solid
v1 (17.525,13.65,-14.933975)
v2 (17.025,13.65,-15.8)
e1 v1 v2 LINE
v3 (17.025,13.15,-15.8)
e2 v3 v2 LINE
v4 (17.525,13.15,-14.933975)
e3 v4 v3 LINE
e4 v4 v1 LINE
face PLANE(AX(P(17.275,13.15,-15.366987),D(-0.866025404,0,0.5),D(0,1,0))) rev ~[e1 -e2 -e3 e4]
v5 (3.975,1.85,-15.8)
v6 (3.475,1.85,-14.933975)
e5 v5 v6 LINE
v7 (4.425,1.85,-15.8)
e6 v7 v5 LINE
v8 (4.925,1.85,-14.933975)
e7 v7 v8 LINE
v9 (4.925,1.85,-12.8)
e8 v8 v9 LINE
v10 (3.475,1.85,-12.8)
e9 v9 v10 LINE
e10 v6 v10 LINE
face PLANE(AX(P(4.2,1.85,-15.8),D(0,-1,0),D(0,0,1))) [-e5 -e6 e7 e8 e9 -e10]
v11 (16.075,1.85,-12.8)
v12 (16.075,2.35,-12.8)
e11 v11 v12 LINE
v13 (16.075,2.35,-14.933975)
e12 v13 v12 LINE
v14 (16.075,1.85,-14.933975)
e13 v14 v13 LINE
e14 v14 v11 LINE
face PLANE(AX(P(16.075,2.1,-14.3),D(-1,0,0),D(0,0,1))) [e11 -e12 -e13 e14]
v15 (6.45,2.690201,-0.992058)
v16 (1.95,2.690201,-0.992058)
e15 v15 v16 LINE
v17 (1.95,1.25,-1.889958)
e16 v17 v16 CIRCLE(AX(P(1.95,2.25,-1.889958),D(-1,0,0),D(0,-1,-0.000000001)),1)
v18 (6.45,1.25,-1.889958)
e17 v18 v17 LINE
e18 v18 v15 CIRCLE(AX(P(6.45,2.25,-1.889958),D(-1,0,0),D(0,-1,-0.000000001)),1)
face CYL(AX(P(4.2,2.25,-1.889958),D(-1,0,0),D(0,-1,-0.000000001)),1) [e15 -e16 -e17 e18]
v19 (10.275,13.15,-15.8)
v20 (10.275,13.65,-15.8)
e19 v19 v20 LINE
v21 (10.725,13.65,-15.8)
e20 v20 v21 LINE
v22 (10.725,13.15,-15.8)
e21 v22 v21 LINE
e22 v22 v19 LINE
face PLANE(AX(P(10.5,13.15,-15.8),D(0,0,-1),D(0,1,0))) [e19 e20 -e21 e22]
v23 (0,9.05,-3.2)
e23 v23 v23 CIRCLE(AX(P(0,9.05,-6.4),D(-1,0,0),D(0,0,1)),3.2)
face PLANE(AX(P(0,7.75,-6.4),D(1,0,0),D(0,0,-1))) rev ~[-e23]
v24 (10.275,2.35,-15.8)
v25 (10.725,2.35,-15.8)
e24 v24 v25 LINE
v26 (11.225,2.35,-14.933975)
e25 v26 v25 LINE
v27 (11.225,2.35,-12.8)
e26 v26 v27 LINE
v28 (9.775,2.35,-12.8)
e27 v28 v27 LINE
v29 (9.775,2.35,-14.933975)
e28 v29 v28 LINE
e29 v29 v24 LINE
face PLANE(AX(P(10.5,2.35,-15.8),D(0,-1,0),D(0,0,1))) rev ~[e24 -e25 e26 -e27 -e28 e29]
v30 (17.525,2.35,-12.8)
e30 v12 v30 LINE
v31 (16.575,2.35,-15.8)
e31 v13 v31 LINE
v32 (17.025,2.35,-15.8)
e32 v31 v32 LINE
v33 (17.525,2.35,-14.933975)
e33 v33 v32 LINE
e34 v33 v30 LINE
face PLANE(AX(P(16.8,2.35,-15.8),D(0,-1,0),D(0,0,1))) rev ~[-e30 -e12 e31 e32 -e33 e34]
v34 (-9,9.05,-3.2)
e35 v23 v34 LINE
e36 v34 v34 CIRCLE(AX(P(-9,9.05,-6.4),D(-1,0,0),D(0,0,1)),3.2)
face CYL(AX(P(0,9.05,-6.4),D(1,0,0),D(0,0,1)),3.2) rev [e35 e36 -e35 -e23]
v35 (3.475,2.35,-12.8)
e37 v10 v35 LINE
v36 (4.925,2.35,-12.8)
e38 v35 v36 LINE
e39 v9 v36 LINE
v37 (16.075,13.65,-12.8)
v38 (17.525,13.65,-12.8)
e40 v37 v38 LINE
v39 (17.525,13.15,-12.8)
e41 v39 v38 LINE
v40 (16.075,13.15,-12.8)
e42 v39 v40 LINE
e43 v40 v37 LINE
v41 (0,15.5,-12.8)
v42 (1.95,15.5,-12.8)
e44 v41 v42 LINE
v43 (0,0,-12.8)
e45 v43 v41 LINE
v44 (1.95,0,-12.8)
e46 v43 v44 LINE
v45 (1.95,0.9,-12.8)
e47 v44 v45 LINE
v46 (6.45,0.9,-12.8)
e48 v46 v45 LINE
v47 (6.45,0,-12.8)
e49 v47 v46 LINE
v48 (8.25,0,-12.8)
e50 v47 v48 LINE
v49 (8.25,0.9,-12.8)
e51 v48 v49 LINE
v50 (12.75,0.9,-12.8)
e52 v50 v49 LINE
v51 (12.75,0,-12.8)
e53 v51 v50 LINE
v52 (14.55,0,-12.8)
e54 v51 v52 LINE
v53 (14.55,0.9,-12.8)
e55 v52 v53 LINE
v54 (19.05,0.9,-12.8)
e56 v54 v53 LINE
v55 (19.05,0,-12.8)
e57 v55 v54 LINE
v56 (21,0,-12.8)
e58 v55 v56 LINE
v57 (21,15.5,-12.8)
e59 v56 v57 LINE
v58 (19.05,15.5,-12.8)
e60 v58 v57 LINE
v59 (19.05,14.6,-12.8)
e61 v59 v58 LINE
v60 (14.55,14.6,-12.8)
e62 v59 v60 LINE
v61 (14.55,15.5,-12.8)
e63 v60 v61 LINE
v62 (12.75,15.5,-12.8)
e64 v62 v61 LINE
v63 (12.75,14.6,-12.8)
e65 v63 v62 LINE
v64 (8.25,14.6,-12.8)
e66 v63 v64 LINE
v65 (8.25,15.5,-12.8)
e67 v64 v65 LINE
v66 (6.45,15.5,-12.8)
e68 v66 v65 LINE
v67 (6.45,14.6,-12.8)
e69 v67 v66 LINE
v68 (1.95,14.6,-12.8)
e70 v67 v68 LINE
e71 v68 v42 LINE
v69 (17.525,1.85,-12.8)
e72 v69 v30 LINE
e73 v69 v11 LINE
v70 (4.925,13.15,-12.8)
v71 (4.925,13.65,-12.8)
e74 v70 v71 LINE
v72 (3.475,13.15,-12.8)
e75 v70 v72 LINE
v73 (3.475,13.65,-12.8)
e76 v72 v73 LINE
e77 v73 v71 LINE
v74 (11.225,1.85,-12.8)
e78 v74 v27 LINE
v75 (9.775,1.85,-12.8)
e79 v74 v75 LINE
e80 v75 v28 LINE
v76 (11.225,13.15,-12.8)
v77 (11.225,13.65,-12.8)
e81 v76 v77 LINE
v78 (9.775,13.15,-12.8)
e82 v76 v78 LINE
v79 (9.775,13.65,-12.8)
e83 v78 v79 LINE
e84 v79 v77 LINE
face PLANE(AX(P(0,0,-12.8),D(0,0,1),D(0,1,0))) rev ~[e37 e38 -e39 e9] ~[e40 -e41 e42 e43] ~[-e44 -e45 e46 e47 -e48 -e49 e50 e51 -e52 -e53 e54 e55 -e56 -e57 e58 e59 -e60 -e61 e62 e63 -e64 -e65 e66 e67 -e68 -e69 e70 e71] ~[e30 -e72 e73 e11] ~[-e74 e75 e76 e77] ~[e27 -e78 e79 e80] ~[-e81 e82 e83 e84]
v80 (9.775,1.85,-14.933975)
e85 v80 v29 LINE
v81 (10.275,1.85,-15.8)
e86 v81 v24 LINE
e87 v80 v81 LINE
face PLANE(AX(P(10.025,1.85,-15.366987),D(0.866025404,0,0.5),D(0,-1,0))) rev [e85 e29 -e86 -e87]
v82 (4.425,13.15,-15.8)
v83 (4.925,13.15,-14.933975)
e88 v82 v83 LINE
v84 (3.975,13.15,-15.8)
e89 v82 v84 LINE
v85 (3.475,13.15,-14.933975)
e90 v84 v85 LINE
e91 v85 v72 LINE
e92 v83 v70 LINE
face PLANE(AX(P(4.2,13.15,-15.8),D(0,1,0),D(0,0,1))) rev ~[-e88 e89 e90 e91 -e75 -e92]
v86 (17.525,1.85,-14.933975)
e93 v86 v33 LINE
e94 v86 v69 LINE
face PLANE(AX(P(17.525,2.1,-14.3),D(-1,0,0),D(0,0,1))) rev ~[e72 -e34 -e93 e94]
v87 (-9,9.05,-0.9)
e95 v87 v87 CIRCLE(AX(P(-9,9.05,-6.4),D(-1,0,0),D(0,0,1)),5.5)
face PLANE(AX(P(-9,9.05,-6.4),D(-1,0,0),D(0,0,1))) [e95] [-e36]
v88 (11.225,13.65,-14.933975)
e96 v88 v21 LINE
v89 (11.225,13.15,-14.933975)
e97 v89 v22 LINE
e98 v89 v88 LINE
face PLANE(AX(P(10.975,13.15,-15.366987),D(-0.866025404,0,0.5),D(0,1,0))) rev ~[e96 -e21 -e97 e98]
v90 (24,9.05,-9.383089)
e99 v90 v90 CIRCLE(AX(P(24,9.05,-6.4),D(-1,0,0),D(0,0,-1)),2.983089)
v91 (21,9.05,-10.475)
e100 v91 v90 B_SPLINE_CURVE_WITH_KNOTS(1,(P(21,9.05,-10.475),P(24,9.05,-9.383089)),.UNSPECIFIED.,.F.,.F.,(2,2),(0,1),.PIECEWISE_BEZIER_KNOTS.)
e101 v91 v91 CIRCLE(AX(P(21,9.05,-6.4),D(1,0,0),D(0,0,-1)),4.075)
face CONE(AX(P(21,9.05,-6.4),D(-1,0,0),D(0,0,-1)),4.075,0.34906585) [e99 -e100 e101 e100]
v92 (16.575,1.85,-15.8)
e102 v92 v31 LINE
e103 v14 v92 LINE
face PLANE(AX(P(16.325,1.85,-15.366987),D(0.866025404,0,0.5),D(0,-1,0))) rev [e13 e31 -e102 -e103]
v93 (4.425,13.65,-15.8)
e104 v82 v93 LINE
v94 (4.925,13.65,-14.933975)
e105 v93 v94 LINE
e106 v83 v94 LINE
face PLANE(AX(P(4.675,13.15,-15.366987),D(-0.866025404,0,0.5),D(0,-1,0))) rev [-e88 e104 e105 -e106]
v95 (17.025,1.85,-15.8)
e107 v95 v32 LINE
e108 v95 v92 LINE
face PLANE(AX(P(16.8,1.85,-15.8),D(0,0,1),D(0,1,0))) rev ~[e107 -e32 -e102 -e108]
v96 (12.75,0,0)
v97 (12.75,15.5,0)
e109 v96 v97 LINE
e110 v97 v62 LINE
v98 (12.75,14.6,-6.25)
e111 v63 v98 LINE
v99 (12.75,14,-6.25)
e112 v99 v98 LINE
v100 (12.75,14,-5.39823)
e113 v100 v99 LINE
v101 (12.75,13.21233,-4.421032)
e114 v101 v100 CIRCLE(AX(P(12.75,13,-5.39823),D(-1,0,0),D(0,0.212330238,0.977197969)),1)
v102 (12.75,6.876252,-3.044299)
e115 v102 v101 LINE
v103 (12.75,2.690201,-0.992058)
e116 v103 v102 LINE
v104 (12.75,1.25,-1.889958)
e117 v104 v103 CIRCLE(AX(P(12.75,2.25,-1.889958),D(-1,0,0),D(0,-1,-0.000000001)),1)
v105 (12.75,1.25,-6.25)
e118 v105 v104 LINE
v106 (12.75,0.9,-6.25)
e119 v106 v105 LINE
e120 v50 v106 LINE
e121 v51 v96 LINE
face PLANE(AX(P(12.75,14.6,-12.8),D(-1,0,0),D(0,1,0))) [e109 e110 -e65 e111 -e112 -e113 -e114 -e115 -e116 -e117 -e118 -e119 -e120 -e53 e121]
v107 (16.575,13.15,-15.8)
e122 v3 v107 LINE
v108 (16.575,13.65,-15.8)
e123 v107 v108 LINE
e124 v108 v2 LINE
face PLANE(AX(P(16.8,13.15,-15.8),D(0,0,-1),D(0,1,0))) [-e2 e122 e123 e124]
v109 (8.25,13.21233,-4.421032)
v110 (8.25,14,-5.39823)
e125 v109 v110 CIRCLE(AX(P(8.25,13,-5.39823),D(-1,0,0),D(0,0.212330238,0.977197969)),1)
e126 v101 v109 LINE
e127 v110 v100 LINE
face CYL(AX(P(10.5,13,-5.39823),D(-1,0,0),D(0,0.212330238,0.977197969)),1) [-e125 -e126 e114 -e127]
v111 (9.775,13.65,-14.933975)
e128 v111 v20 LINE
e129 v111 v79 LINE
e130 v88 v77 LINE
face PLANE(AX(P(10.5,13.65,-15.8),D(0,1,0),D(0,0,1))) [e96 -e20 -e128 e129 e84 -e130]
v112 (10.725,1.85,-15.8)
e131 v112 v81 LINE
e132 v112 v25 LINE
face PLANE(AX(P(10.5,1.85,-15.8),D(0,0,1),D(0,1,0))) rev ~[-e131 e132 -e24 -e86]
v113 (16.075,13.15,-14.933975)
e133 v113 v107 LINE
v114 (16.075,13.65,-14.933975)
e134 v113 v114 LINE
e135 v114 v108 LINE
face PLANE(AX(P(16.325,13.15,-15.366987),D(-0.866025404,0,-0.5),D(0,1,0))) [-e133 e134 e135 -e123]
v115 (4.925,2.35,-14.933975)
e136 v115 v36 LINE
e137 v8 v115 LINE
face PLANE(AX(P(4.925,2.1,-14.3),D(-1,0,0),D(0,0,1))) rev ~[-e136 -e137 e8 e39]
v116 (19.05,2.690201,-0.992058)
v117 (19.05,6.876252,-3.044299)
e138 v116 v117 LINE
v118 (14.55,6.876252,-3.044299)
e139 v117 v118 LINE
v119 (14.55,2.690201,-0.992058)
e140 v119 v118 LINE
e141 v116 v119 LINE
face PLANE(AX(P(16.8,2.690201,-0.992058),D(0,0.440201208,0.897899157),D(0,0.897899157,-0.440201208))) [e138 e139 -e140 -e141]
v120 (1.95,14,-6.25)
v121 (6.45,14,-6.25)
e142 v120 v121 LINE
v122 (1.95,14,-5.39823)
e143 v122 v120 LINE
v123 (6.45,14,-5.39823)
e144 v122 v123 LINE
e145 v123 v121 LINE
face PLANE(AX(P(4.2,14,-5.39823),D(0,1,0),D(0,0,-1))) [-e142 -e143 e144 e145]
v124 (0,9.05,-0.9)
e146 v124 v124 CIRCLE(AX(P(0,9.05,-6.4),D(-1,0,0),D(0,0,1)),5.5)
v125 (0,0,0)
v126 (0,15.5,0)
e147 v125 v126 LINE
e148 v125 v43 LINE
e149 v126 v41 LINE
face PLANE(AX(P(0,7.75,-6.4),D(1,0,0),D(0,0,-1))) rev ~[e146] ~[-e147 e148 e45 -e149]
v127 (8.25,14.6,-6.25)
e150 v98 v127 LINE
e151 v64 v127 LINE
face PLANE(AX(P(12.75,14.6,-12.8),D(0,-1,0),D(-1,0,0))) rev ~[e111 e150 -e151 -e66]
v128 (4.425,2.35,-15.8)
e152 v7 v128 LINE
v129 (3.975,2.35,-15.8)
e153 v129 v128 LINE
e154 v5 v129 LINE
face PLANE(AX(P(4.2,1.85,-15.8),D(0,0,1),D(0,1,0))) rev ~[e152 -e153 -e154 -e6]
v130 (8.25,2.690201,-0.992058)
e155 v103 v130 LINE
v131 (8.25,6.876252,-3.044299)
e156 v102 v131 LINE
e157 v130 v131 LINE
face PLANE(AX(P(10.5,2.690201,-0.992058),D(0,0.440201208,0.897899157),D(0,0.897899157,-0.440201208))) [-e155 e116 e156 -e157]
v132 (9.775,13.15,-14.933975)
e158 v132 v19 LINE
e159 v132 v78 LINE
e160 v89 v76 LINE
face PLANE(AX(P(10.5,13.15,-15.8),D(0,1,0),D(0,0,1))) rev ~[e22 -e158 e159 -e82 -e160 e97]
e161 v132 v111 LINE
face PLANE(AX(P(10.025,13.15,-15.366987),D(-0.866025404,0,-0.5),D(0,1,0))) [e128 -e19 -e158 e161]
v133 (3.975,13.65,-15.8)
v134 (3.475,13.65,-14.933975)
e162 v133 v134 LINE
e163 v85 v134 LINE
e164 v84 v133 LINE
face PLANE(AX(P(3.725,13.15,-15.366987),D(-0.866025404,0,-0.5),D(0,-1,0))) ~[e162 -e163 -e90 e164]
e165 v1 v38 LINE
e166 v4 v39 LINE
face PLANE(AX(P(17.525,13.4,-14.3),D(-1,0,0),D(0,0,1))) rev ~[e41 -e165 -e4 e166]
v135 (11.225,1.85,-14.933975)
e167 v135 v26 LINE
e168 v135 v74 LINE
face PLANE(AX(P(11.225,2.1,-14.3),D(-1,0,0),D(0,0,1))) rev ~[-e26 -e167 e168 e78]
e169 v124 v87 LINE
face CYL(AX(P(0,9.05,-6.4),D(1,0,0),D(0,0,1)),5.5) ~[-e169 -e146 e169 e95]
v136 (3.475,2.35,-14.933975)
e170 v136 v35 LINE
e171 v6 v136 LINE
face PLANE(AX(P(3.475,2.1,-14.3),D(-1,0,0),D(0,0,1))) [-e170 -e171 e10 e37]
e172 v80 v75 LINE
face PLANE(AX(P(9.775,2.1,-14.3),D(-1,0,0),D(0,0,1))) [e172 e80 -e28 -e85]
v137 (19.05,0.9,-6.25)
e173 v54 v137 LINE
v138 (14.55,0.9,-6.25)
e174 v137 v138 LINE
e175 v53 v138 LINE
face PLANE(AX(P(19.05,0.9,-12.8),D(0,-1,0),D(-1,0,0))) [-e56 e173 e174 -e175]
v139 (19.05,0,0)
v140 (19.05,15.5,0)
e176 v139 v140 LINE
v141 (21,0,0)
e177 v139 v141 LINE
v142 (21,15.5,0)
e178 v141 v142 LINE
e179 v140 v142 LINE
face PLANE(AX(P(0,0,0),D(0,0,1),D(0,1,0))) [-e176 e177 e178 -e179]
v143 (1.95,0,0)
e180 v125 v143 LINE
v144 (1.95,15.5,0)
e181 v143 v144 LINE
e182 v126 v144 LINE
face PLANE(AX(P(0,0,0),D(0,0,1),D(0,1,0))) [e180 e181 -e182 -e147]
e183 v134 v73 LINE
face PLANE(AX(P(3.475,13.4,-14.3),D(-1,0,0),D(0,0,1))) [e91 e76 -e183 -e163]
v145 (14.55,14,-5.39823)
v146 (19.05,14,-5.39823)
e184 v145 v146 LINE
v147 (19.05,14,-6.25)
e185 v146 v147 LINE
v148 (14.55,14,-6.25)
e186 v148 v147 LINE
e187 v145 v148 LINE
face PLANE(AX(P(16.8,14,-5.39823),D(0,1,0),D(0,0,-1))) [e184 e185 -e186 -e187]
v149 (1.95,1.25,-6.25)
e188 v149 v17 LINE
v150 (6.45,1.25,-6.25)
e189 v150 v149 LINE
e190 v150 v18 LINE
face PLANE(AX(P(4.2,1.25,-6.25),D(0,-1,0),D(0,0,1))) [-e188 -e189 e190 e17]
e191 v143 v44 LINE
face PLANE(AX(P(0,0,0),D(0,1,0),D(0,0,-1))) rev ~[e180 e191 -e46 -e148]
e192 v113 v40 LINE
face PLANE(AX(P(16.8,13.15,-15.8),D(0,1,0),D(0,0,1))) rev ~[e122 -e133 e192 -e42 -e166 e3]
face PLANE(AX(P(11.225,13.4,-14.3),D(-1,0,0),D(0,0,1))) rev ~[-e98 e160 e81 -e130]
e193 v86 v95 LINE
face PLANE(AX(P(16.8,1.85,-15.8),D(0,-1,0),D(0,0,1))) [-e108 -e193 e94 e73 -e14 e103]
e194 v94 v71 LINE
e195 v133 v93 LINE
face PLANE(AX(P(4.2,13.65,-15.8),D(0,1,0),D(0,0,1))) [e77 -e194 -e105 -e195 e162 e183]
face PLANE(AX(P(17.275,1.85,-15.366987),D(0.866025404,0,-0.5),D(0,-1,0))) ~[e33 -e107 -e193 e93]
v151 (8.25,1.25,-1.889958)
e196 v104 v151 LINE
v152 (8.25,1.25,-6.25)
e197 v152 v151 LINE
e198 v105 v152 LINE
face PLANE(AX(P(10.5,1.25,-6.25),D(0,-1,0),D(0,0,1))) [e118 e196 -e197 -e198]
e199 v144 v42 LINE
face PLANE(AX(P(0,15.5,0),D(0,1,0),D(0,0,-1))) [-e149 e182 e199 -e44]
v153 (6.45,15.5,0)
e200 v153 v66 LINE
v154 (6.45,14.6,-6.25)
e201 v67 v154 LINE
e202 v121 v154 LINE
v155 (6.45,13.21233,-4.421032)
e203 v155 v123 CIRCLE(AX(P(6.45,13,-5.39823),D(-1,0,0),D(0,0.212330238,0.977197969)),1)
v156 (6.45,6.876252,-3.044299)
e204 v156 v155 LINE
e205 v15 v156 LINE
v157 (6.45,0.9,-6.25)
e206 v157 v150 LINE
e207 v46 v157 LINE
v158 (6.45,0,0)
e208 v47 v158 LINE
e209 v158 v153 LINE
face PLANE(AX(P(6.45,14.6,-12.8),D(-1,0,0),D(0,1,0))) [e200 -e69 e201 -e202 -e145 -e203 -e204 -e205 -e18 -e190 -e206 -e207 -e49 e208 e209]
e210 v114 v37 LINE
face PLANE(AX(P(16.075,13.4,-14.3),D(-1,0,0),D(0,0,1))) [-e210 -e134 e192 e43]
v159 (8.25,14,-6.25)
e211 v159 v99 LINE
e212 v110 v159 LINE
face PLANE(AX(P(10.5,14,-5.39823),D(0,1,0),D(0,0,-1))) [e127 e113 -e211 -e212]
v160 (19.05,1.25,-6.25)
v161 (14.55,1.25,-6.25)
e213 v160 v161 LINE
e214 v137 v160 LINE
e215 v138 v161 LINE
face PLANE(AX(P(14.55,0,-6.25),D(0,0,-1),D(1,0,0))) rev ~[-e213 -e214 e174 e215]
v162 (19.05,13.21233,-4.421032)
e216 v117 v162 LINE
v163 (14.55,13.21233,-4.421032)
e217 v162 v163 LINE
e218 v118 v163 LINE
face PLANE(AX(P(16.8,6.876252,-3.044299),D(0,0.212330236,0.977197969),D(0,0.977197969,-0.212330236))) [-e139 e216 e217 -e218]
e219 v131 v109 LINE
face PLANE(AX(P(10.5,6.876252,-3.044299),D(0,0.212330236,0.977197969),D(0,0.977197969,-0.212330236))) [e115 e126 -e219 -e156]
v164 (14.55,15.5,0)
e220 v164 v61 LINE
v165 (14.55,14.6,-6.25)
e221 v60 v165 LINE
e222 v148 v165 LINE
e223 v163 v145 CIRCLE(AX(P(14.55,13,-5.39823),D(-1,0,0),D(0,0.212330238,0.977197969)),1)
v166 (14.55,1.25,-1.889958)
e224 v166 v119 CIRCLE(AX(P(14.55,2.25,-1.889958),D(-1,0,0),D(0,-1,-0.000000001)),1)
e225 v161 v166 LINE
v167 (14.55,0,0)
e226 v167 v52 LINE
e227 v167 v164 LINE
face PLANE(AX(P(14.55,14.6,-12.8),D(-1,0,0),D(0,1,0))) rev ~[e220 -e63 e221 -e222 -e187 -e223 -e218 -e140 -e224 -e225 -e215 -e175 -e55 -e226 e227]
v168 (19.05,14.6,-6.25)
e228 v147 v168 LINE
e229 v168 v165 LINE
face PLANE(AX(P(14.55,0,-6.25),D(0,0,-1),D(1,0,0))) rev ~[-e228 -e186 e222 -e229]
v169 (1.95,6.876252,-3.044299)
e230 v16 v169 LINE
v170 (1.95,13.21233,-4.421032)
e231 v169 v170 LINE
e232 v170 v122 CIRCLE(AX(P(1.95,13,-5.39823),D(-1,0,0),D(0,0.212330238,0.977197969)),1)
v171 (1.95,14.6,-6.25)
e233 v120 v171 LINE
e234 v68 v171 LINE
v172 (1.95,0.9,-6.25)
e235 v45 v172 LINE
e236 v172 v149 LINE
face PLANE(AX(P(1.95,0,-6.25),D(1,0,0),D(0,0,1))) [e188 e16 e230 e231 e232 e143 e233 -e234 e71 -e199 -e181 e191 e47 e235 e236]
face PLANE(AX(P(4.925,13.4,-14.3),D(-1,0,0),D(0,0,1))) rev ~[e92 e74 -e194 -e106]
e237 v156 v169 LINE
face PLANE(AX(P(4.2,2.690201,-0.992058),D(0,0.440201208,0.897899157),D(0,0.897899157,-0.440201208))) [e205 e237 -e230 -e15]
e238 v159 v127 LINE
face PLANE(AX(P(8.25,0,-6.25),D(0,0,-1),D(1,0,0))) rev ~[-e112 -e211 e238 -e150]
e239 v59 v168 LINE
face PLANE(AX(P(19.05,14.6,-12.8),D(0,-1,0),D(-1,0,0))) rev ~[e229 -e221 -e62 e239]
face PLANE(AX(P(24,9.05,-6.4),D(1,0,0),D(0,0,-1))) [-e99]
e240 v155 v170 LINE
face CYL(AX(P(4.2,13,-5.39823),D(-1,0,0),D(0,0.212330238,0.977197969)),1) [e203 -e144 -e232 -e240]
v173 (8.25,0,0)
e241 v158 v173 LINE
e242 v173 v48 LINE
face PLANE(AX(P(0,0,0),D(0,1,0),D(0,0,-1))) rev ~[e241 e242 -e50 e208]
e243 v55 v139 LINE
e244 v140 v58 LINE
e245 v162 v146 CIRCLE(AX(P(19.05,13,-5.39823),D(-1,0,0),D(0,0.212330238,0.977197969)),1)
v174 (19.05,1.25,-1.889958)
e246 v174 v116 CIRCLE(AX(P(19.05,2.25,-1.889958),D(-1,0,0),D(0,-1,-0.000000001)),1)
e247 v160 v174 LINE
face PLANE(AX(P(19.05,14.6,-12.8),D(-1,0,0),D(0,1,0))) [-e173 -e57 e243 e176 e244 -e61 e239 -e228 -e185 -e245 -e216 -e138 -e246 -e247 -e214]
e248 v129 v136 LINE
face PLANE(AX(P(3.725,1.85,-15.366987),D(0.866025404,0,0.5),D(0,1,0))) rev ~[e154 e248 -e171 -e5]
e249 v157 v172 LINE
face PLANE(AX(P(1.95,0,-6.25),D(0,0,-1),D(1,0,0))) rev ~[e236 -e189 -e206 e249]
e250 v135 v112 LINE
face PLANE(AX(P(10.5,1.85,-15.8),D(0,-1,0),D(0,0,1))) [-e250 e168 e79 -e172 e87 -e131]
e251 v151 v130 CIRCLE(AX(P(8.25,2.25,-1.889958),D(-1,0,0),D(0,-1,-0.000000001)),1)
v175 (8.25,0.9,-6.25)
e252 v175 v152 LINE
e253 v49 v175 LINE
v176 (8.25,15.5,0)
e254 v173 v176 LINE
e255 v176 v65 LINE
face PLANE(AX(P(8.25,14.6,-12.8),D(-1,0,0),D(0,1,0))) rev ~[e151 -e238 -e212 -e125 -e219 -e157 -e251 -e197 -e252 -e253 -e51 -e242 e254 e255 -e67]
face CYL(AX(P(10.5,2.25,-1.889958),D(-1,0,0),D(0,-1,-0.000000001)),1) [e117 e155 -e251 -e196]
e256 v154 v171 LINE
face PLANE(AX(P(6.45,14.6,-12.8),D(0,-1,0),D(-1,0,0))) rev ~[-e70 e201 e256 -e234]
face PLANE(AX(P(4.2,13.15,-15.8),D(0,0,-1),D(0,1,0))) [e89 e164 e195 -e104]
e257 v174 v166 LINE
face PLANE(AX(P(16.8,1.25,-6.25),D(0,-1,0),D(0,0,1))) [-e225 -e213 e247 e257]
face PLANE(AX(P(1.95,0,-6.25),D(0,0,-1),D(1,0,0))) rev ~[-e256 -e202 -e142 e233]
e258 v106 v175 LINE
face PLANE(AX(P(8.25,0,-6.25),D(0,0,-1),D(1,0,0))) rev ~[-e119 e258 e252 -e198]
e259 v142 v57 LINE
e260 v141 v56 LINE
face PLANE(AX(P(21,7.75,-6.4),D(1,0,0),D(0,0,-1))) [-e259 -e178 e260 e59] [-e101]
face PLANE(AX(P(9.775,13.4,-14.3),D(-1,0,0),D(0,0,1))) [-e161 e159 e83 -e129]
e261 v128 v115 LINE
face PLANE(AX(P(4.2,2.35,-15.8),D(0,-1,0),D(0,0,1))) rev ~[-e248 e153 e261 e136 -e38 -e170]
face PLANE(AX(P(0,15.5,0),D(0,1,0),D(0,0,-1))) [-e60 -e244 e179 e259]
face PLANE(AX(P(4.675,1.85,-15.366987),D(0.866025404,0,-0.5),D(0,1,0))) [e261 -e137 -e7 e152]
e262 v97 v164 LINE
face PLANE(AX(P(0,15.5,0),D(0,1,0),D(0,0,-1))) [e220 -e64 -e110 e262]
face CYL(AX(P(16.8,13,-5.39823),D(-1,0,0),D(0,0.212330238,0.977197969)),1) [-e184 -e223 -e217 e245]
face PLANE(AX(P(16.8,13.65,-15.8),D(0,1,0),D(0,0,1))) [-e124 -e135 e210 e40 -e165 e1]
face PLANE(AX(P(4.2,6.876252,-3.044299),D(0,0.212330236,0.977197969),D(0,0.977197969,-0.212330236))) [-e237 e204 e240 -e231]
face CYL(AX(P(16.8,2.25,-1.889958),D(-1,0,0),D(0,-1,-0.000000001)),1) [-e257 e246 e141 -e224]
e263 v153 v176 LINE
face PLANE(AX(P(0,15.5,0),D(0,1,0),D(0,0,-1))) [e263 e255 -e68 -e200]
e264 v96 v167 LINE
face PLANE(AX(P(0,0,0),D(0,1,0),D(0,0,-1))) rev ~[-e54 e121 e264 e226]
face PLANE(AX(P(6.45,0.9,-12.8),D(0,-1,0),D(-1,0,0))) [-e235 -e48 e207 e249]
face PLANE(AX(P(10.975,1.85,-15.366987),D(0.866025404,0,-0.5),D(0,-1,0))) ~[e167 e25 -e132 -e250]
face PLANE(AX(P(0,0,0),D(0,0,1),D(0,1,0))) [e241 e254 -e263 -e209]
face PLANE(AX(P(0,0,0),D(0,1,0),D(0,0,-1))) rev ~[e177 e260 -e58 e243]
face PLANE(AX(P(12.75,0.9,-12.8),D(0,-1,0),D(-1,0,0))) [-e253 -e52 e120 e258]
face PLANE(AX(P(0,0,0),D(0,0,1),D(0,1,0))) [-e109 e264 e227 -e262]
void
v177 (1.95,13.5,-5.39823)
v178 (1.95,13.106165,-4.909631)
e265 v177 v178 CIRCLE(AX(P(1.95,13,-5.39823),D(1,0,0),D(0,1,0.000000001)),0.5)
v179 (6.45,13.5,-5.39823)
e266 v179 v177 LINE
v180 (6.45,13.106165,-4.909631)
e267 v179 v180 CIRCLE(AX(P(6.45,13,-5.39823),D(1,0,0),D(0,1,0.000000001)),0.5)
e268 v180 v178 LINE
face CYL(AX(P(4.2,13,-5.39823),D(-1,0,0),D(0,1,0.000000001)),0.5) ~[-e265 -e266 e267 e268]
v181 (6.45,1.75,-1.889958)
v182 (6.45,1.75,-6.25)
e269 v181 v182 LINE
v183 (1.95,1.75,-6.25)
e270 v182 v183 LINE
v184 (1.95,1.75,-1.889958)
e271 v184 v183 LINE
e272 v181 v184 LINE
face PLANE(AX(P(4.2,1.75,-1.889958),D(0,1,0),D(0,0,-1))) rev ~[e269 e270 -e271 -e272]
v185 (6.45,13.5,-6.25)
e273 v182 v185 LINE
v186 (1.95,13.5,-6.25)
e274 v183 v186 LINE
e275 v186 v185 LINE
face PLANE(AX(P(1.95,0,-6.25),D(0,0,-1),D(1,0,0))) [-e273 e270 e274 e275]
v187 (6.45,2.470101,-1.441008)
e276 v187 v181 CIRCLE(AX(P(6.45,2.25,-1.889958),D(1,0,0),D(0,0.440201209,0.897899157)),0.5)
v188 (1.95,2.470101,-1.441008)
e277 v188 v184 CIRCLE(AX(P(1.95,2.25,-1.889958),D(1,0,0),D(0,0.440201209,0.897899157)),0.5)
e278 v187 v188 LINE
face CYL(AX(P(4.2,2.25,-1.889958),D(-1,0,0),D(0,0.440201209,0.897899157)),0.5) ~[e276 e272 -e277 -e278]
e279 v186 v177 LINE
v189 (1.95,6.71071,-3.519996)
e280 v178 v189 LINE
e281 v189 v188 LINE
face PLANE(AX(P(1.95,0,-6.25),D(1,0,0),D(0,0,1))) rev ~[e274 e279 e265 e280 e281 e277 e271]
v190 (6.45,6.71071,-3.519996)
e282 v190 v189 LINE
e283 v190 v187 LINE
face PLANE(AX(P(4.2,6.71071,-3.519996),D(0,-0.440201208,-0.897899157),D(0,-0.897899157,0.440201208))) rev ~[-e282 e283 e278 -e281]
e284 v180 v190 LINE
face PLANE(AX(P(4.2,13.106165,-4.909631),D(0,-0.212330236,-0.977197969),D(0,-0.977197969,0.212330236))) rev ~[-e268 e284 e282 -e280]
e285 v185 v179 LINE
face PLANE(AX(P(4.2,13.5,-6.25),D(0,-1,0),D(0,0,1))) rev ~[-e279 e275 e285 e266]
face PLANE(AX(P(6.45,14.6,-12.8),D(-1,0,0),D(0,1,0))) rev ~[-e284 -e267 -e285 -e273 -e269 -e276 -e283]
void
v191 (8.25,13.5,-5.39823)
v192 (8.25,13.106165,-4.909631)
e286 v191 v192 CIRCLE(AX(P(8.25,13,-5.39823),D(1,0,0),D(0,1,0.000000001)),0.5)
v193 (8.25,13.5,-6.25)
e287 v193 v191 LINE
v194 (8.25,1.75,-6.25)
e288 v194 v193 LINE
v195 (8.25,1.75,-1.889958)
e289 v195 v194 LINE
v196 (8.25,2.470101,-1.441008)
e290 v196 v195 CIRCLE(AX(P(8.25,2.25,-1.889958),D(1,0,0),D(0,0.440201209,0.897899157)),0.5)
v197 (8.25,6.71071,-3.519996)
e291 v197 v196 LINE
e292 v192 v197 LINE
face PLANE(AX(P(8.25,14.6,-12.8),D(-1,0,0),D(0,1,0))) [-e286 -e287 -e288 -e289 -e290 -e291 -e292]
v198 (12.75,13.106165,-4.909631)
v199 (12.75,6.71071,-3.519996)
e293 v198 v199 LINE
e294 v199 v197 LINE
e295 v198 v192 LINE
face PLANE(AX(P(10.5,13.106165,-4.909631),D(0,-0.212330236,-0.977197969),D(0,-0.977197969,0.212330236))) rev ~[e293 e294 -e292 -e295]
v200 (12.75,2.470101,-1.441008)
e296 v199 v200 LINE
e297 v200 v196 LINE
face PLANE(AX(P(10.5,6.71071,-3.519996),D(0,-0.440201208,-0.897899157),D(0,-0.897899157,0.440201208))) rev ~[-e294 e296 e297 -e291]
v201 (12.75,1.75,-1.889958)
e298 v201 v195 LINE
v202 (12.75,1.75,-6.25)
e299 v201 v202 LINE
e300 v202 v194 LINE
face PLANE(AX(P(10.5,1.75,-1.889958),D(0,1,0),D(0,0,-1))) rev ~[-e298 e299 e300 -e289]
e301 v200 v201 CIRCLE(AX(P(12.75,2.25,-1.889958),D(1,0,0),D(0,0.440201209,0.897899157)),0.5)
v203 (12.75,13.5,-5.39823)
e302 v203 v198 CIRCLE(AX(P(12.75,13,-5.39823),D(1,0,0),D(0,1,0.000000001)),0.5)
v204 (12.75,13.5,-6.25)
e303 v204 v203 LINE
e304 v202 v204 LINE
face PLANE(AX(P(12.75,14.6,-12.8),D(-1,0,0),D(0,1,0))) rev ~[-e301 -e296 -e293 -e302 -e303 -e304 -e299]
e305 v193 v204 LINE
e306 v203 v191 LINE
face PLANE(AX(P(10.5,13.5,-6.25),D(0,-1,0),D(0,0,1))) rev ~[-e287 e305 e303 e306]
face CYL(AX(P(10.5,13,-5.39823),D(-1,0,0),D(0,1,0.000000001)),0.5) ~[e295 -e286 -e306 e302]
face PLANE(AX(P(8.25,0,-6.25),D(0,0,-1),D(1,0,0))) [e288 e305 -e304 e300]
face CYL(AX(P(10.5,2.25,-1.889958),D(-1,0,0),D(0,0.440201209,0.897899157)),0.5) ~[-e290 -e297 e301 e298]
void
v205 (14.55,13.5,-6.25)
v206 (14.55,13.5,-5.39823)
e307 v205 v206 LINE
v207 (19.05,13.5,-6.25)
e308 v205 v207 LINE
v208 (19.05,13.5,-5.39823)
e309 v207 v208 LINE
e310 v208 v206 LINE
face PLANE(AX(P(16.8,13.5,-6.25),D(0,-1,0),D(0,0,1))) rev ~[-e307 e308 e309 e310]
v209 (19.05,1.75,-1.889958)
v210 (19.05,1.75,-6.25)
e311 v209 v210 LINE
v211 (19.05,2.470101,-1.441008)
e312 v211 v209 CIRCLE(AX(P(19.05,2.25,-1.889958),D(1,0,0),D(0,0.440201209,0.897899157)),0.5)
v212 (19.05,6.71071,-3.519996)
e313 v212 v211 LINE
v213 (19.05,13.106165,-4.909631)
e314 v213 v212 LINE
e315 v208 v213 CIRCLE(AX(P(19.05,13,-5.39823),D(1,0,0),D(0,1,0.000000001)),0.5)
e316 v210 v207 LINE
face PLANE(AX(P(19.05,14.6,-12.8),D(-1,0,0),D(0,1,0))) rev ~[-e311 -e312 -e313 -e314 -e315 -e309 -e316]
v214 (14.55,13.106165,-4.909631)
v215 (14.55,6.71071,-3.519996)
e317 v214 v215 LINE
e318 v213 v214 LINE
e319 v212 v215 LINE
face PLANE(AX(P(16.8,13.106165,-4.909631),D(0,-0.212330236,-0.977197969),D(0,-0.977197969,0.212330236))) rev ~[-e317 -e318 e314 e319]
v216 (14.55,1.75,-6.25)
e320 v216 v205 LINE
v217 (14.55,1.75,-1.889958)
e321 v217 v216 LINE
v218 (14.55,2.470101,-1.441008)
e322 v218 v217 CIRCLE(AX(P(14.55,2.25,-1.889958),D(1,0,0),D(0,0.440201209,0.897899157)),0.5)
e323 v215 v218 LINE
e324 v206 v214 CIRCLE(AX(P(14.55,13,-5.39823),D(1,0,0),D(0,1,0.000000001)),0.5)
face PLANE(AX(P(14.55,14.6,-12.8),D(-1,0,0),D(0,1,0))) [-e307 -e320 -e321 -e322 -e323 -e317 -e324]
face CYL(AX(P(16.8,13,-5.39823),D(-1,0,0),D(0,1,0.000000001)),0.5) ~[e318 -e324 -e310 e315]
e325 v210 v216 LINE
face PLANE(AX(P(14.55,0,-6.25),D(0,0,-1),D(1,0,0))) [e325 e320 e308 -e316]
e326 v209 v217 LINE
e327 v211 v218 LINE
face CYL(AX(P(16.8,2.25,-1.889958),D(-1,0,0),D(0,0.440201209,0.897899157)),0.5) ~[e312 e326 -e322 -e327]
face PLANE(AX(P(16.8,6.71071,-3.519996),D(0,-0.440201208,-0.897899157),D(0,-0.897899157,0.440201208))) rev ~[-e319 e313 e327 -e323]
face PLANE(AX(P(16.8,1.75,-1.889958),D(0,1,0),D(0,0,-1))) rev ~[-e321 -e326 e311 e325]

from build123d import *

# Parameters (mm, degrees)
SKETCH1_W                          = 12.8
SKETCH1_H                          = 15.5
BOSS_EXTRUDE1_DEPTH                = 21
SKETCH2_R                          = 5.5
SKETCH2_R_2                        = 3.2
BOSS_EXTRUDE2_DEPTH                = 9
SKETCH3_R                          = 4.075
BOSS_EXTRUDE3_DEPTH                = 3
BOSS_EXTRUDE3_TAPER                = 20
SKETCH6_W                          = 4.5
SKETCH6_H                          = 6.25
CUT_EXTRUDE1_DEPTH                 = 15.5
SKETCH7_W                          = 4.5
SKETCH7_H                          = 0.9
CUT_EXTRUDE2_DEPTH                 = 9
LPATTERN1_COUNT                    = 3
LPATTERN1_PITCH                    = 6.3
EXTRUDE_THIN1_DEPTH                = 2.25
SKETCH9_W                          = 3
SKETCH9_H                          = 0.5
EXTRUDE_THIN2_DEPTH                = 0.725
CHAMFER1_SIZE                      = 0.5
CHAMFER1_SIZE2                     = 0.866025404
CHAMFER1_PART_2_SIZE               = 0.5
CHAMFER1_PART_2_SIZE2              = 0.866025404
LPATTERN2_COUNT                    = 3
LPATTERN2_PITCH                    = 6.3
CHAMFER1_OF_LPATTERN2_SIZE2        = 0.5
CHAMFER1_OF_LPATTERN2_SIZE         = 0.866025404
CHAMFER1_PART_2_OF_LPATTERN2_SIZE2 = 0.5
CHAMFER1_PART_2_OF_LPATTERN2_SIZE  = 0.866025404


with BuildPart() as part:
    # Sketch1 → Boss-Extrude1 (new body)
    with BuildSketch(Plane(origin=(0, 0, 0), x_dir=(0, 0, -1), z_dir=(1, 0, 0))):
        with Locations((6.4, 7.75)):
            Rectangle(SKETCH1_W, SKETCH1_H)
    extrude(amount=BOSS_EXTRUDE1_DEPTH)

    # Sketch2 → Boss-Extrude2 (add)
    with BuildSketch(Plane.ZY):
        with Locations((-6.4, 9.05)):
            Circle(SKETCH2_R)
        with Locations((-6.4, 9.05)):
            Circle(SKETCH2_R_2, mode=Mode.SUBTRACT)
    extrude(amount=BOSS_EXTRUDE2_DEPTH)

    # Sketch3 → Boss-Extrude3 (add)
    with BuildSketch(Plane(origin=(21, 0, 0), x_dir=(0, 0, -1), z_dir=(1, 0, 0))):
        with Locations((6.4, 9.05)):
            Circle(SKETCH3_R)
    extrude(amount=BOSS_EXTRUDE3_DEPTH, taper=BOSS_EXTRUDE3_TAPER)

    # Sketch6 → Cut-Extrude1 (cut)
    with BuildSketch(Plane.XZ):
        with Locations((4.2, -3.125)):
            Rectangle(SKETCH6_W, SKETCH6_H)
    cut_extrude1 = extrude(amount=-CUT_EXTRUDE1_DEPTH, mode=Mode.SUBTRACT)

    # Sketch7 → Cut-Extrude2 (cut)
    with BuildSketch(Plane(origin=(0, 0, -12.8), x_dir=(-1, 0, 0), z_dir=(0, 0, -1))):
        with Locations((-4.2, 15.05)):
            Rectangle(SKETCH7_W, SKETCH7_H)
        with Locations((-4.2, 0.45)):
            Rectangle(SKETCH7_W, SKETCH7_H)
    cut_extrude2 = extrude(amount=-CUT_EXTRUDE2_DEPTH, mode=Mode.SUBTRACT)

    # LPattern1: Cut-Extrude1, Cut-Extrude2 ×3
    with Locations(*[(i * LPATTERN1_PITCH, 0, 0) for i in range(1, LPATTERN1_COUNT)]):
        add(cut_extrude1, mode=Mode.SUBTRACT)
        add(cut_extrude2, mode=Mode.SUBTRACT)

    # Sketch8 → Extrude-Thin1 (add, symmetric)
    with BuildSketch(Plane.ZY.offset(-4.2)):
        with BuildLine():
            Line((-6.25, 13.5), (-5.398229918, 13.5))
            ThreePointArc((-5.398229918, 13.5), (-5.084448593, 13.389283033), (-4.909630934, 13.106165118))
            Line((-4.909630934, 13.106165118), (-3.519996024, 6.710710403))
            Line((-3.519996024, 6.710710403), (-1.441008044, 2.470100604))
            ThreePointArc((-1.441008044, 2.470100604), (-1.465663914, 1.985472404), (-1.889957622, 1.75))
            Line((-1.889957622, 1.75), (-6.25, 1.75))
            Line((-6.25, 1.75), (-6.25, 1.25))
            Line((-6.25, 1.25), (-1.889957622, 1.25))
            ThreePointArc((-1.889957622, 1.25), (-1.041370205, 1.720944808), (-0.992058465, 2.690201208))
            Line((-0.992058465, 2.690201208), (-3.044298744, 6.876252459))
            Line((-3.044298744, 6.876252459), (-4.421031949, 13.212330236))
            ThreePointArc((-4.421031949, 13.212330236), (-4.770667267, 13.778566065), (-5.398229918, 14))
            Line((-5.398229918, 14), (-6.25, 14))
            Line((-6.25, 14), (-6.25, 13.5))
        make_face()
    extrude_thin1 = extrude(amount=EXTRUDE_THIN1_DEPTH, both=True)

    # Sketch9 → Extrude-Thin2 (add, symmetric)
    with BuildSketch(Plane.ZY.offset(-4.2)):
        with Locations((-14.3, 13.4)):
            Rectangle(SKETCH9_W, SKETCH9_H)
        with Locations((-14.3, 2.1)):
            Rectangle(SKETCH9_W, SKETCH9_H)
    extrude_thin2 = extrude(amount=EXTRUDE_THIN2_DEPTH, both=True)

    # Chamfer1
    chamfer1_edges = [part.edges().sort_by_distance(p)[0] for p in [
        (3.475, 13.4, -15.8),
        (4.925, 13.4, -15.8),
    ]]
    chamfer1_side = [part.faces().sort_by_distance(p)[0] for p in [
        (4.2, 13.4, -15.8),
    ]]
    chamfer(chamfer1_edges, length=CHAMFER1_SIZE, length2=CHAMFER1_SIZE2, reference=chamfer1_side[0])

    # Chamfer1 part 2
    chamfer1_part_2_edges = [part.edges().sort_by_distance(p)[0] for p in [
        (3.475, 2.1, -15.8),
        (4.925, 2.1, -15.8),
    ]]
    chamfer1_part_2_side = [part.faces().sort_by_distance(p)[0] for p in [
        (4.2, 2.1, -15.8),
    ]]
    chamfer(chamfer1_part_2_edges, length=CHAMFER1_PART_2_SIZE, length2=CHAMFER1_PART_2_SIZE2, reference=chamfer1_part_2_side[0])

    # LPattern2: Extrude-Thin1, Extrude-Thin2 ×3
    with Locations(*[(i * LPATTERN2_PITCH, 0, 0) for i in range(1, LPATTERN2_COUNT)]):
        add(extrude_thin1)
        add(extrude_thin2)

    # Chamfer1 of LPattern2
    chamfer1_of_lpattern2_edges = [part.edges().sort_by_distance(p)[0] for p in [
        (9.775, 13.4, -15.8),
        (11.225, 13.4, -15.8),
        (16.075, 13.4, -15.8),
        (17.525, 13.4, -15.8),
    ]]
    chamfer(chamfer1_of_lpattern2_edges, length=CHAMFER1_OF_LPATTERN2_SIZE, length2=CHAMFER1_OF_LPATTERN2_SIZE2)

    # Chamfer1 part 2 of LPattern2
    chamfer1_part_2_of_lpattern2_edges = [part.edges().sort_by_distance(p)[0] for p in [
        (9.775, 2.1, -15.8),
        (11.225, 2.1, -15.8),
        (16.075, 2.1, -15.8),
        (17.525, 2.1, -15.8),
    ]]
    chamfer(chamfer1_part_2_of_lpattern2_edges, length=CHAMFER1_PART_2_OF_LPATTERN2_SIZE, length2=CHAMFER1_PART_2_OF_LPATTERN2_SIZE2)


solid = part.part
